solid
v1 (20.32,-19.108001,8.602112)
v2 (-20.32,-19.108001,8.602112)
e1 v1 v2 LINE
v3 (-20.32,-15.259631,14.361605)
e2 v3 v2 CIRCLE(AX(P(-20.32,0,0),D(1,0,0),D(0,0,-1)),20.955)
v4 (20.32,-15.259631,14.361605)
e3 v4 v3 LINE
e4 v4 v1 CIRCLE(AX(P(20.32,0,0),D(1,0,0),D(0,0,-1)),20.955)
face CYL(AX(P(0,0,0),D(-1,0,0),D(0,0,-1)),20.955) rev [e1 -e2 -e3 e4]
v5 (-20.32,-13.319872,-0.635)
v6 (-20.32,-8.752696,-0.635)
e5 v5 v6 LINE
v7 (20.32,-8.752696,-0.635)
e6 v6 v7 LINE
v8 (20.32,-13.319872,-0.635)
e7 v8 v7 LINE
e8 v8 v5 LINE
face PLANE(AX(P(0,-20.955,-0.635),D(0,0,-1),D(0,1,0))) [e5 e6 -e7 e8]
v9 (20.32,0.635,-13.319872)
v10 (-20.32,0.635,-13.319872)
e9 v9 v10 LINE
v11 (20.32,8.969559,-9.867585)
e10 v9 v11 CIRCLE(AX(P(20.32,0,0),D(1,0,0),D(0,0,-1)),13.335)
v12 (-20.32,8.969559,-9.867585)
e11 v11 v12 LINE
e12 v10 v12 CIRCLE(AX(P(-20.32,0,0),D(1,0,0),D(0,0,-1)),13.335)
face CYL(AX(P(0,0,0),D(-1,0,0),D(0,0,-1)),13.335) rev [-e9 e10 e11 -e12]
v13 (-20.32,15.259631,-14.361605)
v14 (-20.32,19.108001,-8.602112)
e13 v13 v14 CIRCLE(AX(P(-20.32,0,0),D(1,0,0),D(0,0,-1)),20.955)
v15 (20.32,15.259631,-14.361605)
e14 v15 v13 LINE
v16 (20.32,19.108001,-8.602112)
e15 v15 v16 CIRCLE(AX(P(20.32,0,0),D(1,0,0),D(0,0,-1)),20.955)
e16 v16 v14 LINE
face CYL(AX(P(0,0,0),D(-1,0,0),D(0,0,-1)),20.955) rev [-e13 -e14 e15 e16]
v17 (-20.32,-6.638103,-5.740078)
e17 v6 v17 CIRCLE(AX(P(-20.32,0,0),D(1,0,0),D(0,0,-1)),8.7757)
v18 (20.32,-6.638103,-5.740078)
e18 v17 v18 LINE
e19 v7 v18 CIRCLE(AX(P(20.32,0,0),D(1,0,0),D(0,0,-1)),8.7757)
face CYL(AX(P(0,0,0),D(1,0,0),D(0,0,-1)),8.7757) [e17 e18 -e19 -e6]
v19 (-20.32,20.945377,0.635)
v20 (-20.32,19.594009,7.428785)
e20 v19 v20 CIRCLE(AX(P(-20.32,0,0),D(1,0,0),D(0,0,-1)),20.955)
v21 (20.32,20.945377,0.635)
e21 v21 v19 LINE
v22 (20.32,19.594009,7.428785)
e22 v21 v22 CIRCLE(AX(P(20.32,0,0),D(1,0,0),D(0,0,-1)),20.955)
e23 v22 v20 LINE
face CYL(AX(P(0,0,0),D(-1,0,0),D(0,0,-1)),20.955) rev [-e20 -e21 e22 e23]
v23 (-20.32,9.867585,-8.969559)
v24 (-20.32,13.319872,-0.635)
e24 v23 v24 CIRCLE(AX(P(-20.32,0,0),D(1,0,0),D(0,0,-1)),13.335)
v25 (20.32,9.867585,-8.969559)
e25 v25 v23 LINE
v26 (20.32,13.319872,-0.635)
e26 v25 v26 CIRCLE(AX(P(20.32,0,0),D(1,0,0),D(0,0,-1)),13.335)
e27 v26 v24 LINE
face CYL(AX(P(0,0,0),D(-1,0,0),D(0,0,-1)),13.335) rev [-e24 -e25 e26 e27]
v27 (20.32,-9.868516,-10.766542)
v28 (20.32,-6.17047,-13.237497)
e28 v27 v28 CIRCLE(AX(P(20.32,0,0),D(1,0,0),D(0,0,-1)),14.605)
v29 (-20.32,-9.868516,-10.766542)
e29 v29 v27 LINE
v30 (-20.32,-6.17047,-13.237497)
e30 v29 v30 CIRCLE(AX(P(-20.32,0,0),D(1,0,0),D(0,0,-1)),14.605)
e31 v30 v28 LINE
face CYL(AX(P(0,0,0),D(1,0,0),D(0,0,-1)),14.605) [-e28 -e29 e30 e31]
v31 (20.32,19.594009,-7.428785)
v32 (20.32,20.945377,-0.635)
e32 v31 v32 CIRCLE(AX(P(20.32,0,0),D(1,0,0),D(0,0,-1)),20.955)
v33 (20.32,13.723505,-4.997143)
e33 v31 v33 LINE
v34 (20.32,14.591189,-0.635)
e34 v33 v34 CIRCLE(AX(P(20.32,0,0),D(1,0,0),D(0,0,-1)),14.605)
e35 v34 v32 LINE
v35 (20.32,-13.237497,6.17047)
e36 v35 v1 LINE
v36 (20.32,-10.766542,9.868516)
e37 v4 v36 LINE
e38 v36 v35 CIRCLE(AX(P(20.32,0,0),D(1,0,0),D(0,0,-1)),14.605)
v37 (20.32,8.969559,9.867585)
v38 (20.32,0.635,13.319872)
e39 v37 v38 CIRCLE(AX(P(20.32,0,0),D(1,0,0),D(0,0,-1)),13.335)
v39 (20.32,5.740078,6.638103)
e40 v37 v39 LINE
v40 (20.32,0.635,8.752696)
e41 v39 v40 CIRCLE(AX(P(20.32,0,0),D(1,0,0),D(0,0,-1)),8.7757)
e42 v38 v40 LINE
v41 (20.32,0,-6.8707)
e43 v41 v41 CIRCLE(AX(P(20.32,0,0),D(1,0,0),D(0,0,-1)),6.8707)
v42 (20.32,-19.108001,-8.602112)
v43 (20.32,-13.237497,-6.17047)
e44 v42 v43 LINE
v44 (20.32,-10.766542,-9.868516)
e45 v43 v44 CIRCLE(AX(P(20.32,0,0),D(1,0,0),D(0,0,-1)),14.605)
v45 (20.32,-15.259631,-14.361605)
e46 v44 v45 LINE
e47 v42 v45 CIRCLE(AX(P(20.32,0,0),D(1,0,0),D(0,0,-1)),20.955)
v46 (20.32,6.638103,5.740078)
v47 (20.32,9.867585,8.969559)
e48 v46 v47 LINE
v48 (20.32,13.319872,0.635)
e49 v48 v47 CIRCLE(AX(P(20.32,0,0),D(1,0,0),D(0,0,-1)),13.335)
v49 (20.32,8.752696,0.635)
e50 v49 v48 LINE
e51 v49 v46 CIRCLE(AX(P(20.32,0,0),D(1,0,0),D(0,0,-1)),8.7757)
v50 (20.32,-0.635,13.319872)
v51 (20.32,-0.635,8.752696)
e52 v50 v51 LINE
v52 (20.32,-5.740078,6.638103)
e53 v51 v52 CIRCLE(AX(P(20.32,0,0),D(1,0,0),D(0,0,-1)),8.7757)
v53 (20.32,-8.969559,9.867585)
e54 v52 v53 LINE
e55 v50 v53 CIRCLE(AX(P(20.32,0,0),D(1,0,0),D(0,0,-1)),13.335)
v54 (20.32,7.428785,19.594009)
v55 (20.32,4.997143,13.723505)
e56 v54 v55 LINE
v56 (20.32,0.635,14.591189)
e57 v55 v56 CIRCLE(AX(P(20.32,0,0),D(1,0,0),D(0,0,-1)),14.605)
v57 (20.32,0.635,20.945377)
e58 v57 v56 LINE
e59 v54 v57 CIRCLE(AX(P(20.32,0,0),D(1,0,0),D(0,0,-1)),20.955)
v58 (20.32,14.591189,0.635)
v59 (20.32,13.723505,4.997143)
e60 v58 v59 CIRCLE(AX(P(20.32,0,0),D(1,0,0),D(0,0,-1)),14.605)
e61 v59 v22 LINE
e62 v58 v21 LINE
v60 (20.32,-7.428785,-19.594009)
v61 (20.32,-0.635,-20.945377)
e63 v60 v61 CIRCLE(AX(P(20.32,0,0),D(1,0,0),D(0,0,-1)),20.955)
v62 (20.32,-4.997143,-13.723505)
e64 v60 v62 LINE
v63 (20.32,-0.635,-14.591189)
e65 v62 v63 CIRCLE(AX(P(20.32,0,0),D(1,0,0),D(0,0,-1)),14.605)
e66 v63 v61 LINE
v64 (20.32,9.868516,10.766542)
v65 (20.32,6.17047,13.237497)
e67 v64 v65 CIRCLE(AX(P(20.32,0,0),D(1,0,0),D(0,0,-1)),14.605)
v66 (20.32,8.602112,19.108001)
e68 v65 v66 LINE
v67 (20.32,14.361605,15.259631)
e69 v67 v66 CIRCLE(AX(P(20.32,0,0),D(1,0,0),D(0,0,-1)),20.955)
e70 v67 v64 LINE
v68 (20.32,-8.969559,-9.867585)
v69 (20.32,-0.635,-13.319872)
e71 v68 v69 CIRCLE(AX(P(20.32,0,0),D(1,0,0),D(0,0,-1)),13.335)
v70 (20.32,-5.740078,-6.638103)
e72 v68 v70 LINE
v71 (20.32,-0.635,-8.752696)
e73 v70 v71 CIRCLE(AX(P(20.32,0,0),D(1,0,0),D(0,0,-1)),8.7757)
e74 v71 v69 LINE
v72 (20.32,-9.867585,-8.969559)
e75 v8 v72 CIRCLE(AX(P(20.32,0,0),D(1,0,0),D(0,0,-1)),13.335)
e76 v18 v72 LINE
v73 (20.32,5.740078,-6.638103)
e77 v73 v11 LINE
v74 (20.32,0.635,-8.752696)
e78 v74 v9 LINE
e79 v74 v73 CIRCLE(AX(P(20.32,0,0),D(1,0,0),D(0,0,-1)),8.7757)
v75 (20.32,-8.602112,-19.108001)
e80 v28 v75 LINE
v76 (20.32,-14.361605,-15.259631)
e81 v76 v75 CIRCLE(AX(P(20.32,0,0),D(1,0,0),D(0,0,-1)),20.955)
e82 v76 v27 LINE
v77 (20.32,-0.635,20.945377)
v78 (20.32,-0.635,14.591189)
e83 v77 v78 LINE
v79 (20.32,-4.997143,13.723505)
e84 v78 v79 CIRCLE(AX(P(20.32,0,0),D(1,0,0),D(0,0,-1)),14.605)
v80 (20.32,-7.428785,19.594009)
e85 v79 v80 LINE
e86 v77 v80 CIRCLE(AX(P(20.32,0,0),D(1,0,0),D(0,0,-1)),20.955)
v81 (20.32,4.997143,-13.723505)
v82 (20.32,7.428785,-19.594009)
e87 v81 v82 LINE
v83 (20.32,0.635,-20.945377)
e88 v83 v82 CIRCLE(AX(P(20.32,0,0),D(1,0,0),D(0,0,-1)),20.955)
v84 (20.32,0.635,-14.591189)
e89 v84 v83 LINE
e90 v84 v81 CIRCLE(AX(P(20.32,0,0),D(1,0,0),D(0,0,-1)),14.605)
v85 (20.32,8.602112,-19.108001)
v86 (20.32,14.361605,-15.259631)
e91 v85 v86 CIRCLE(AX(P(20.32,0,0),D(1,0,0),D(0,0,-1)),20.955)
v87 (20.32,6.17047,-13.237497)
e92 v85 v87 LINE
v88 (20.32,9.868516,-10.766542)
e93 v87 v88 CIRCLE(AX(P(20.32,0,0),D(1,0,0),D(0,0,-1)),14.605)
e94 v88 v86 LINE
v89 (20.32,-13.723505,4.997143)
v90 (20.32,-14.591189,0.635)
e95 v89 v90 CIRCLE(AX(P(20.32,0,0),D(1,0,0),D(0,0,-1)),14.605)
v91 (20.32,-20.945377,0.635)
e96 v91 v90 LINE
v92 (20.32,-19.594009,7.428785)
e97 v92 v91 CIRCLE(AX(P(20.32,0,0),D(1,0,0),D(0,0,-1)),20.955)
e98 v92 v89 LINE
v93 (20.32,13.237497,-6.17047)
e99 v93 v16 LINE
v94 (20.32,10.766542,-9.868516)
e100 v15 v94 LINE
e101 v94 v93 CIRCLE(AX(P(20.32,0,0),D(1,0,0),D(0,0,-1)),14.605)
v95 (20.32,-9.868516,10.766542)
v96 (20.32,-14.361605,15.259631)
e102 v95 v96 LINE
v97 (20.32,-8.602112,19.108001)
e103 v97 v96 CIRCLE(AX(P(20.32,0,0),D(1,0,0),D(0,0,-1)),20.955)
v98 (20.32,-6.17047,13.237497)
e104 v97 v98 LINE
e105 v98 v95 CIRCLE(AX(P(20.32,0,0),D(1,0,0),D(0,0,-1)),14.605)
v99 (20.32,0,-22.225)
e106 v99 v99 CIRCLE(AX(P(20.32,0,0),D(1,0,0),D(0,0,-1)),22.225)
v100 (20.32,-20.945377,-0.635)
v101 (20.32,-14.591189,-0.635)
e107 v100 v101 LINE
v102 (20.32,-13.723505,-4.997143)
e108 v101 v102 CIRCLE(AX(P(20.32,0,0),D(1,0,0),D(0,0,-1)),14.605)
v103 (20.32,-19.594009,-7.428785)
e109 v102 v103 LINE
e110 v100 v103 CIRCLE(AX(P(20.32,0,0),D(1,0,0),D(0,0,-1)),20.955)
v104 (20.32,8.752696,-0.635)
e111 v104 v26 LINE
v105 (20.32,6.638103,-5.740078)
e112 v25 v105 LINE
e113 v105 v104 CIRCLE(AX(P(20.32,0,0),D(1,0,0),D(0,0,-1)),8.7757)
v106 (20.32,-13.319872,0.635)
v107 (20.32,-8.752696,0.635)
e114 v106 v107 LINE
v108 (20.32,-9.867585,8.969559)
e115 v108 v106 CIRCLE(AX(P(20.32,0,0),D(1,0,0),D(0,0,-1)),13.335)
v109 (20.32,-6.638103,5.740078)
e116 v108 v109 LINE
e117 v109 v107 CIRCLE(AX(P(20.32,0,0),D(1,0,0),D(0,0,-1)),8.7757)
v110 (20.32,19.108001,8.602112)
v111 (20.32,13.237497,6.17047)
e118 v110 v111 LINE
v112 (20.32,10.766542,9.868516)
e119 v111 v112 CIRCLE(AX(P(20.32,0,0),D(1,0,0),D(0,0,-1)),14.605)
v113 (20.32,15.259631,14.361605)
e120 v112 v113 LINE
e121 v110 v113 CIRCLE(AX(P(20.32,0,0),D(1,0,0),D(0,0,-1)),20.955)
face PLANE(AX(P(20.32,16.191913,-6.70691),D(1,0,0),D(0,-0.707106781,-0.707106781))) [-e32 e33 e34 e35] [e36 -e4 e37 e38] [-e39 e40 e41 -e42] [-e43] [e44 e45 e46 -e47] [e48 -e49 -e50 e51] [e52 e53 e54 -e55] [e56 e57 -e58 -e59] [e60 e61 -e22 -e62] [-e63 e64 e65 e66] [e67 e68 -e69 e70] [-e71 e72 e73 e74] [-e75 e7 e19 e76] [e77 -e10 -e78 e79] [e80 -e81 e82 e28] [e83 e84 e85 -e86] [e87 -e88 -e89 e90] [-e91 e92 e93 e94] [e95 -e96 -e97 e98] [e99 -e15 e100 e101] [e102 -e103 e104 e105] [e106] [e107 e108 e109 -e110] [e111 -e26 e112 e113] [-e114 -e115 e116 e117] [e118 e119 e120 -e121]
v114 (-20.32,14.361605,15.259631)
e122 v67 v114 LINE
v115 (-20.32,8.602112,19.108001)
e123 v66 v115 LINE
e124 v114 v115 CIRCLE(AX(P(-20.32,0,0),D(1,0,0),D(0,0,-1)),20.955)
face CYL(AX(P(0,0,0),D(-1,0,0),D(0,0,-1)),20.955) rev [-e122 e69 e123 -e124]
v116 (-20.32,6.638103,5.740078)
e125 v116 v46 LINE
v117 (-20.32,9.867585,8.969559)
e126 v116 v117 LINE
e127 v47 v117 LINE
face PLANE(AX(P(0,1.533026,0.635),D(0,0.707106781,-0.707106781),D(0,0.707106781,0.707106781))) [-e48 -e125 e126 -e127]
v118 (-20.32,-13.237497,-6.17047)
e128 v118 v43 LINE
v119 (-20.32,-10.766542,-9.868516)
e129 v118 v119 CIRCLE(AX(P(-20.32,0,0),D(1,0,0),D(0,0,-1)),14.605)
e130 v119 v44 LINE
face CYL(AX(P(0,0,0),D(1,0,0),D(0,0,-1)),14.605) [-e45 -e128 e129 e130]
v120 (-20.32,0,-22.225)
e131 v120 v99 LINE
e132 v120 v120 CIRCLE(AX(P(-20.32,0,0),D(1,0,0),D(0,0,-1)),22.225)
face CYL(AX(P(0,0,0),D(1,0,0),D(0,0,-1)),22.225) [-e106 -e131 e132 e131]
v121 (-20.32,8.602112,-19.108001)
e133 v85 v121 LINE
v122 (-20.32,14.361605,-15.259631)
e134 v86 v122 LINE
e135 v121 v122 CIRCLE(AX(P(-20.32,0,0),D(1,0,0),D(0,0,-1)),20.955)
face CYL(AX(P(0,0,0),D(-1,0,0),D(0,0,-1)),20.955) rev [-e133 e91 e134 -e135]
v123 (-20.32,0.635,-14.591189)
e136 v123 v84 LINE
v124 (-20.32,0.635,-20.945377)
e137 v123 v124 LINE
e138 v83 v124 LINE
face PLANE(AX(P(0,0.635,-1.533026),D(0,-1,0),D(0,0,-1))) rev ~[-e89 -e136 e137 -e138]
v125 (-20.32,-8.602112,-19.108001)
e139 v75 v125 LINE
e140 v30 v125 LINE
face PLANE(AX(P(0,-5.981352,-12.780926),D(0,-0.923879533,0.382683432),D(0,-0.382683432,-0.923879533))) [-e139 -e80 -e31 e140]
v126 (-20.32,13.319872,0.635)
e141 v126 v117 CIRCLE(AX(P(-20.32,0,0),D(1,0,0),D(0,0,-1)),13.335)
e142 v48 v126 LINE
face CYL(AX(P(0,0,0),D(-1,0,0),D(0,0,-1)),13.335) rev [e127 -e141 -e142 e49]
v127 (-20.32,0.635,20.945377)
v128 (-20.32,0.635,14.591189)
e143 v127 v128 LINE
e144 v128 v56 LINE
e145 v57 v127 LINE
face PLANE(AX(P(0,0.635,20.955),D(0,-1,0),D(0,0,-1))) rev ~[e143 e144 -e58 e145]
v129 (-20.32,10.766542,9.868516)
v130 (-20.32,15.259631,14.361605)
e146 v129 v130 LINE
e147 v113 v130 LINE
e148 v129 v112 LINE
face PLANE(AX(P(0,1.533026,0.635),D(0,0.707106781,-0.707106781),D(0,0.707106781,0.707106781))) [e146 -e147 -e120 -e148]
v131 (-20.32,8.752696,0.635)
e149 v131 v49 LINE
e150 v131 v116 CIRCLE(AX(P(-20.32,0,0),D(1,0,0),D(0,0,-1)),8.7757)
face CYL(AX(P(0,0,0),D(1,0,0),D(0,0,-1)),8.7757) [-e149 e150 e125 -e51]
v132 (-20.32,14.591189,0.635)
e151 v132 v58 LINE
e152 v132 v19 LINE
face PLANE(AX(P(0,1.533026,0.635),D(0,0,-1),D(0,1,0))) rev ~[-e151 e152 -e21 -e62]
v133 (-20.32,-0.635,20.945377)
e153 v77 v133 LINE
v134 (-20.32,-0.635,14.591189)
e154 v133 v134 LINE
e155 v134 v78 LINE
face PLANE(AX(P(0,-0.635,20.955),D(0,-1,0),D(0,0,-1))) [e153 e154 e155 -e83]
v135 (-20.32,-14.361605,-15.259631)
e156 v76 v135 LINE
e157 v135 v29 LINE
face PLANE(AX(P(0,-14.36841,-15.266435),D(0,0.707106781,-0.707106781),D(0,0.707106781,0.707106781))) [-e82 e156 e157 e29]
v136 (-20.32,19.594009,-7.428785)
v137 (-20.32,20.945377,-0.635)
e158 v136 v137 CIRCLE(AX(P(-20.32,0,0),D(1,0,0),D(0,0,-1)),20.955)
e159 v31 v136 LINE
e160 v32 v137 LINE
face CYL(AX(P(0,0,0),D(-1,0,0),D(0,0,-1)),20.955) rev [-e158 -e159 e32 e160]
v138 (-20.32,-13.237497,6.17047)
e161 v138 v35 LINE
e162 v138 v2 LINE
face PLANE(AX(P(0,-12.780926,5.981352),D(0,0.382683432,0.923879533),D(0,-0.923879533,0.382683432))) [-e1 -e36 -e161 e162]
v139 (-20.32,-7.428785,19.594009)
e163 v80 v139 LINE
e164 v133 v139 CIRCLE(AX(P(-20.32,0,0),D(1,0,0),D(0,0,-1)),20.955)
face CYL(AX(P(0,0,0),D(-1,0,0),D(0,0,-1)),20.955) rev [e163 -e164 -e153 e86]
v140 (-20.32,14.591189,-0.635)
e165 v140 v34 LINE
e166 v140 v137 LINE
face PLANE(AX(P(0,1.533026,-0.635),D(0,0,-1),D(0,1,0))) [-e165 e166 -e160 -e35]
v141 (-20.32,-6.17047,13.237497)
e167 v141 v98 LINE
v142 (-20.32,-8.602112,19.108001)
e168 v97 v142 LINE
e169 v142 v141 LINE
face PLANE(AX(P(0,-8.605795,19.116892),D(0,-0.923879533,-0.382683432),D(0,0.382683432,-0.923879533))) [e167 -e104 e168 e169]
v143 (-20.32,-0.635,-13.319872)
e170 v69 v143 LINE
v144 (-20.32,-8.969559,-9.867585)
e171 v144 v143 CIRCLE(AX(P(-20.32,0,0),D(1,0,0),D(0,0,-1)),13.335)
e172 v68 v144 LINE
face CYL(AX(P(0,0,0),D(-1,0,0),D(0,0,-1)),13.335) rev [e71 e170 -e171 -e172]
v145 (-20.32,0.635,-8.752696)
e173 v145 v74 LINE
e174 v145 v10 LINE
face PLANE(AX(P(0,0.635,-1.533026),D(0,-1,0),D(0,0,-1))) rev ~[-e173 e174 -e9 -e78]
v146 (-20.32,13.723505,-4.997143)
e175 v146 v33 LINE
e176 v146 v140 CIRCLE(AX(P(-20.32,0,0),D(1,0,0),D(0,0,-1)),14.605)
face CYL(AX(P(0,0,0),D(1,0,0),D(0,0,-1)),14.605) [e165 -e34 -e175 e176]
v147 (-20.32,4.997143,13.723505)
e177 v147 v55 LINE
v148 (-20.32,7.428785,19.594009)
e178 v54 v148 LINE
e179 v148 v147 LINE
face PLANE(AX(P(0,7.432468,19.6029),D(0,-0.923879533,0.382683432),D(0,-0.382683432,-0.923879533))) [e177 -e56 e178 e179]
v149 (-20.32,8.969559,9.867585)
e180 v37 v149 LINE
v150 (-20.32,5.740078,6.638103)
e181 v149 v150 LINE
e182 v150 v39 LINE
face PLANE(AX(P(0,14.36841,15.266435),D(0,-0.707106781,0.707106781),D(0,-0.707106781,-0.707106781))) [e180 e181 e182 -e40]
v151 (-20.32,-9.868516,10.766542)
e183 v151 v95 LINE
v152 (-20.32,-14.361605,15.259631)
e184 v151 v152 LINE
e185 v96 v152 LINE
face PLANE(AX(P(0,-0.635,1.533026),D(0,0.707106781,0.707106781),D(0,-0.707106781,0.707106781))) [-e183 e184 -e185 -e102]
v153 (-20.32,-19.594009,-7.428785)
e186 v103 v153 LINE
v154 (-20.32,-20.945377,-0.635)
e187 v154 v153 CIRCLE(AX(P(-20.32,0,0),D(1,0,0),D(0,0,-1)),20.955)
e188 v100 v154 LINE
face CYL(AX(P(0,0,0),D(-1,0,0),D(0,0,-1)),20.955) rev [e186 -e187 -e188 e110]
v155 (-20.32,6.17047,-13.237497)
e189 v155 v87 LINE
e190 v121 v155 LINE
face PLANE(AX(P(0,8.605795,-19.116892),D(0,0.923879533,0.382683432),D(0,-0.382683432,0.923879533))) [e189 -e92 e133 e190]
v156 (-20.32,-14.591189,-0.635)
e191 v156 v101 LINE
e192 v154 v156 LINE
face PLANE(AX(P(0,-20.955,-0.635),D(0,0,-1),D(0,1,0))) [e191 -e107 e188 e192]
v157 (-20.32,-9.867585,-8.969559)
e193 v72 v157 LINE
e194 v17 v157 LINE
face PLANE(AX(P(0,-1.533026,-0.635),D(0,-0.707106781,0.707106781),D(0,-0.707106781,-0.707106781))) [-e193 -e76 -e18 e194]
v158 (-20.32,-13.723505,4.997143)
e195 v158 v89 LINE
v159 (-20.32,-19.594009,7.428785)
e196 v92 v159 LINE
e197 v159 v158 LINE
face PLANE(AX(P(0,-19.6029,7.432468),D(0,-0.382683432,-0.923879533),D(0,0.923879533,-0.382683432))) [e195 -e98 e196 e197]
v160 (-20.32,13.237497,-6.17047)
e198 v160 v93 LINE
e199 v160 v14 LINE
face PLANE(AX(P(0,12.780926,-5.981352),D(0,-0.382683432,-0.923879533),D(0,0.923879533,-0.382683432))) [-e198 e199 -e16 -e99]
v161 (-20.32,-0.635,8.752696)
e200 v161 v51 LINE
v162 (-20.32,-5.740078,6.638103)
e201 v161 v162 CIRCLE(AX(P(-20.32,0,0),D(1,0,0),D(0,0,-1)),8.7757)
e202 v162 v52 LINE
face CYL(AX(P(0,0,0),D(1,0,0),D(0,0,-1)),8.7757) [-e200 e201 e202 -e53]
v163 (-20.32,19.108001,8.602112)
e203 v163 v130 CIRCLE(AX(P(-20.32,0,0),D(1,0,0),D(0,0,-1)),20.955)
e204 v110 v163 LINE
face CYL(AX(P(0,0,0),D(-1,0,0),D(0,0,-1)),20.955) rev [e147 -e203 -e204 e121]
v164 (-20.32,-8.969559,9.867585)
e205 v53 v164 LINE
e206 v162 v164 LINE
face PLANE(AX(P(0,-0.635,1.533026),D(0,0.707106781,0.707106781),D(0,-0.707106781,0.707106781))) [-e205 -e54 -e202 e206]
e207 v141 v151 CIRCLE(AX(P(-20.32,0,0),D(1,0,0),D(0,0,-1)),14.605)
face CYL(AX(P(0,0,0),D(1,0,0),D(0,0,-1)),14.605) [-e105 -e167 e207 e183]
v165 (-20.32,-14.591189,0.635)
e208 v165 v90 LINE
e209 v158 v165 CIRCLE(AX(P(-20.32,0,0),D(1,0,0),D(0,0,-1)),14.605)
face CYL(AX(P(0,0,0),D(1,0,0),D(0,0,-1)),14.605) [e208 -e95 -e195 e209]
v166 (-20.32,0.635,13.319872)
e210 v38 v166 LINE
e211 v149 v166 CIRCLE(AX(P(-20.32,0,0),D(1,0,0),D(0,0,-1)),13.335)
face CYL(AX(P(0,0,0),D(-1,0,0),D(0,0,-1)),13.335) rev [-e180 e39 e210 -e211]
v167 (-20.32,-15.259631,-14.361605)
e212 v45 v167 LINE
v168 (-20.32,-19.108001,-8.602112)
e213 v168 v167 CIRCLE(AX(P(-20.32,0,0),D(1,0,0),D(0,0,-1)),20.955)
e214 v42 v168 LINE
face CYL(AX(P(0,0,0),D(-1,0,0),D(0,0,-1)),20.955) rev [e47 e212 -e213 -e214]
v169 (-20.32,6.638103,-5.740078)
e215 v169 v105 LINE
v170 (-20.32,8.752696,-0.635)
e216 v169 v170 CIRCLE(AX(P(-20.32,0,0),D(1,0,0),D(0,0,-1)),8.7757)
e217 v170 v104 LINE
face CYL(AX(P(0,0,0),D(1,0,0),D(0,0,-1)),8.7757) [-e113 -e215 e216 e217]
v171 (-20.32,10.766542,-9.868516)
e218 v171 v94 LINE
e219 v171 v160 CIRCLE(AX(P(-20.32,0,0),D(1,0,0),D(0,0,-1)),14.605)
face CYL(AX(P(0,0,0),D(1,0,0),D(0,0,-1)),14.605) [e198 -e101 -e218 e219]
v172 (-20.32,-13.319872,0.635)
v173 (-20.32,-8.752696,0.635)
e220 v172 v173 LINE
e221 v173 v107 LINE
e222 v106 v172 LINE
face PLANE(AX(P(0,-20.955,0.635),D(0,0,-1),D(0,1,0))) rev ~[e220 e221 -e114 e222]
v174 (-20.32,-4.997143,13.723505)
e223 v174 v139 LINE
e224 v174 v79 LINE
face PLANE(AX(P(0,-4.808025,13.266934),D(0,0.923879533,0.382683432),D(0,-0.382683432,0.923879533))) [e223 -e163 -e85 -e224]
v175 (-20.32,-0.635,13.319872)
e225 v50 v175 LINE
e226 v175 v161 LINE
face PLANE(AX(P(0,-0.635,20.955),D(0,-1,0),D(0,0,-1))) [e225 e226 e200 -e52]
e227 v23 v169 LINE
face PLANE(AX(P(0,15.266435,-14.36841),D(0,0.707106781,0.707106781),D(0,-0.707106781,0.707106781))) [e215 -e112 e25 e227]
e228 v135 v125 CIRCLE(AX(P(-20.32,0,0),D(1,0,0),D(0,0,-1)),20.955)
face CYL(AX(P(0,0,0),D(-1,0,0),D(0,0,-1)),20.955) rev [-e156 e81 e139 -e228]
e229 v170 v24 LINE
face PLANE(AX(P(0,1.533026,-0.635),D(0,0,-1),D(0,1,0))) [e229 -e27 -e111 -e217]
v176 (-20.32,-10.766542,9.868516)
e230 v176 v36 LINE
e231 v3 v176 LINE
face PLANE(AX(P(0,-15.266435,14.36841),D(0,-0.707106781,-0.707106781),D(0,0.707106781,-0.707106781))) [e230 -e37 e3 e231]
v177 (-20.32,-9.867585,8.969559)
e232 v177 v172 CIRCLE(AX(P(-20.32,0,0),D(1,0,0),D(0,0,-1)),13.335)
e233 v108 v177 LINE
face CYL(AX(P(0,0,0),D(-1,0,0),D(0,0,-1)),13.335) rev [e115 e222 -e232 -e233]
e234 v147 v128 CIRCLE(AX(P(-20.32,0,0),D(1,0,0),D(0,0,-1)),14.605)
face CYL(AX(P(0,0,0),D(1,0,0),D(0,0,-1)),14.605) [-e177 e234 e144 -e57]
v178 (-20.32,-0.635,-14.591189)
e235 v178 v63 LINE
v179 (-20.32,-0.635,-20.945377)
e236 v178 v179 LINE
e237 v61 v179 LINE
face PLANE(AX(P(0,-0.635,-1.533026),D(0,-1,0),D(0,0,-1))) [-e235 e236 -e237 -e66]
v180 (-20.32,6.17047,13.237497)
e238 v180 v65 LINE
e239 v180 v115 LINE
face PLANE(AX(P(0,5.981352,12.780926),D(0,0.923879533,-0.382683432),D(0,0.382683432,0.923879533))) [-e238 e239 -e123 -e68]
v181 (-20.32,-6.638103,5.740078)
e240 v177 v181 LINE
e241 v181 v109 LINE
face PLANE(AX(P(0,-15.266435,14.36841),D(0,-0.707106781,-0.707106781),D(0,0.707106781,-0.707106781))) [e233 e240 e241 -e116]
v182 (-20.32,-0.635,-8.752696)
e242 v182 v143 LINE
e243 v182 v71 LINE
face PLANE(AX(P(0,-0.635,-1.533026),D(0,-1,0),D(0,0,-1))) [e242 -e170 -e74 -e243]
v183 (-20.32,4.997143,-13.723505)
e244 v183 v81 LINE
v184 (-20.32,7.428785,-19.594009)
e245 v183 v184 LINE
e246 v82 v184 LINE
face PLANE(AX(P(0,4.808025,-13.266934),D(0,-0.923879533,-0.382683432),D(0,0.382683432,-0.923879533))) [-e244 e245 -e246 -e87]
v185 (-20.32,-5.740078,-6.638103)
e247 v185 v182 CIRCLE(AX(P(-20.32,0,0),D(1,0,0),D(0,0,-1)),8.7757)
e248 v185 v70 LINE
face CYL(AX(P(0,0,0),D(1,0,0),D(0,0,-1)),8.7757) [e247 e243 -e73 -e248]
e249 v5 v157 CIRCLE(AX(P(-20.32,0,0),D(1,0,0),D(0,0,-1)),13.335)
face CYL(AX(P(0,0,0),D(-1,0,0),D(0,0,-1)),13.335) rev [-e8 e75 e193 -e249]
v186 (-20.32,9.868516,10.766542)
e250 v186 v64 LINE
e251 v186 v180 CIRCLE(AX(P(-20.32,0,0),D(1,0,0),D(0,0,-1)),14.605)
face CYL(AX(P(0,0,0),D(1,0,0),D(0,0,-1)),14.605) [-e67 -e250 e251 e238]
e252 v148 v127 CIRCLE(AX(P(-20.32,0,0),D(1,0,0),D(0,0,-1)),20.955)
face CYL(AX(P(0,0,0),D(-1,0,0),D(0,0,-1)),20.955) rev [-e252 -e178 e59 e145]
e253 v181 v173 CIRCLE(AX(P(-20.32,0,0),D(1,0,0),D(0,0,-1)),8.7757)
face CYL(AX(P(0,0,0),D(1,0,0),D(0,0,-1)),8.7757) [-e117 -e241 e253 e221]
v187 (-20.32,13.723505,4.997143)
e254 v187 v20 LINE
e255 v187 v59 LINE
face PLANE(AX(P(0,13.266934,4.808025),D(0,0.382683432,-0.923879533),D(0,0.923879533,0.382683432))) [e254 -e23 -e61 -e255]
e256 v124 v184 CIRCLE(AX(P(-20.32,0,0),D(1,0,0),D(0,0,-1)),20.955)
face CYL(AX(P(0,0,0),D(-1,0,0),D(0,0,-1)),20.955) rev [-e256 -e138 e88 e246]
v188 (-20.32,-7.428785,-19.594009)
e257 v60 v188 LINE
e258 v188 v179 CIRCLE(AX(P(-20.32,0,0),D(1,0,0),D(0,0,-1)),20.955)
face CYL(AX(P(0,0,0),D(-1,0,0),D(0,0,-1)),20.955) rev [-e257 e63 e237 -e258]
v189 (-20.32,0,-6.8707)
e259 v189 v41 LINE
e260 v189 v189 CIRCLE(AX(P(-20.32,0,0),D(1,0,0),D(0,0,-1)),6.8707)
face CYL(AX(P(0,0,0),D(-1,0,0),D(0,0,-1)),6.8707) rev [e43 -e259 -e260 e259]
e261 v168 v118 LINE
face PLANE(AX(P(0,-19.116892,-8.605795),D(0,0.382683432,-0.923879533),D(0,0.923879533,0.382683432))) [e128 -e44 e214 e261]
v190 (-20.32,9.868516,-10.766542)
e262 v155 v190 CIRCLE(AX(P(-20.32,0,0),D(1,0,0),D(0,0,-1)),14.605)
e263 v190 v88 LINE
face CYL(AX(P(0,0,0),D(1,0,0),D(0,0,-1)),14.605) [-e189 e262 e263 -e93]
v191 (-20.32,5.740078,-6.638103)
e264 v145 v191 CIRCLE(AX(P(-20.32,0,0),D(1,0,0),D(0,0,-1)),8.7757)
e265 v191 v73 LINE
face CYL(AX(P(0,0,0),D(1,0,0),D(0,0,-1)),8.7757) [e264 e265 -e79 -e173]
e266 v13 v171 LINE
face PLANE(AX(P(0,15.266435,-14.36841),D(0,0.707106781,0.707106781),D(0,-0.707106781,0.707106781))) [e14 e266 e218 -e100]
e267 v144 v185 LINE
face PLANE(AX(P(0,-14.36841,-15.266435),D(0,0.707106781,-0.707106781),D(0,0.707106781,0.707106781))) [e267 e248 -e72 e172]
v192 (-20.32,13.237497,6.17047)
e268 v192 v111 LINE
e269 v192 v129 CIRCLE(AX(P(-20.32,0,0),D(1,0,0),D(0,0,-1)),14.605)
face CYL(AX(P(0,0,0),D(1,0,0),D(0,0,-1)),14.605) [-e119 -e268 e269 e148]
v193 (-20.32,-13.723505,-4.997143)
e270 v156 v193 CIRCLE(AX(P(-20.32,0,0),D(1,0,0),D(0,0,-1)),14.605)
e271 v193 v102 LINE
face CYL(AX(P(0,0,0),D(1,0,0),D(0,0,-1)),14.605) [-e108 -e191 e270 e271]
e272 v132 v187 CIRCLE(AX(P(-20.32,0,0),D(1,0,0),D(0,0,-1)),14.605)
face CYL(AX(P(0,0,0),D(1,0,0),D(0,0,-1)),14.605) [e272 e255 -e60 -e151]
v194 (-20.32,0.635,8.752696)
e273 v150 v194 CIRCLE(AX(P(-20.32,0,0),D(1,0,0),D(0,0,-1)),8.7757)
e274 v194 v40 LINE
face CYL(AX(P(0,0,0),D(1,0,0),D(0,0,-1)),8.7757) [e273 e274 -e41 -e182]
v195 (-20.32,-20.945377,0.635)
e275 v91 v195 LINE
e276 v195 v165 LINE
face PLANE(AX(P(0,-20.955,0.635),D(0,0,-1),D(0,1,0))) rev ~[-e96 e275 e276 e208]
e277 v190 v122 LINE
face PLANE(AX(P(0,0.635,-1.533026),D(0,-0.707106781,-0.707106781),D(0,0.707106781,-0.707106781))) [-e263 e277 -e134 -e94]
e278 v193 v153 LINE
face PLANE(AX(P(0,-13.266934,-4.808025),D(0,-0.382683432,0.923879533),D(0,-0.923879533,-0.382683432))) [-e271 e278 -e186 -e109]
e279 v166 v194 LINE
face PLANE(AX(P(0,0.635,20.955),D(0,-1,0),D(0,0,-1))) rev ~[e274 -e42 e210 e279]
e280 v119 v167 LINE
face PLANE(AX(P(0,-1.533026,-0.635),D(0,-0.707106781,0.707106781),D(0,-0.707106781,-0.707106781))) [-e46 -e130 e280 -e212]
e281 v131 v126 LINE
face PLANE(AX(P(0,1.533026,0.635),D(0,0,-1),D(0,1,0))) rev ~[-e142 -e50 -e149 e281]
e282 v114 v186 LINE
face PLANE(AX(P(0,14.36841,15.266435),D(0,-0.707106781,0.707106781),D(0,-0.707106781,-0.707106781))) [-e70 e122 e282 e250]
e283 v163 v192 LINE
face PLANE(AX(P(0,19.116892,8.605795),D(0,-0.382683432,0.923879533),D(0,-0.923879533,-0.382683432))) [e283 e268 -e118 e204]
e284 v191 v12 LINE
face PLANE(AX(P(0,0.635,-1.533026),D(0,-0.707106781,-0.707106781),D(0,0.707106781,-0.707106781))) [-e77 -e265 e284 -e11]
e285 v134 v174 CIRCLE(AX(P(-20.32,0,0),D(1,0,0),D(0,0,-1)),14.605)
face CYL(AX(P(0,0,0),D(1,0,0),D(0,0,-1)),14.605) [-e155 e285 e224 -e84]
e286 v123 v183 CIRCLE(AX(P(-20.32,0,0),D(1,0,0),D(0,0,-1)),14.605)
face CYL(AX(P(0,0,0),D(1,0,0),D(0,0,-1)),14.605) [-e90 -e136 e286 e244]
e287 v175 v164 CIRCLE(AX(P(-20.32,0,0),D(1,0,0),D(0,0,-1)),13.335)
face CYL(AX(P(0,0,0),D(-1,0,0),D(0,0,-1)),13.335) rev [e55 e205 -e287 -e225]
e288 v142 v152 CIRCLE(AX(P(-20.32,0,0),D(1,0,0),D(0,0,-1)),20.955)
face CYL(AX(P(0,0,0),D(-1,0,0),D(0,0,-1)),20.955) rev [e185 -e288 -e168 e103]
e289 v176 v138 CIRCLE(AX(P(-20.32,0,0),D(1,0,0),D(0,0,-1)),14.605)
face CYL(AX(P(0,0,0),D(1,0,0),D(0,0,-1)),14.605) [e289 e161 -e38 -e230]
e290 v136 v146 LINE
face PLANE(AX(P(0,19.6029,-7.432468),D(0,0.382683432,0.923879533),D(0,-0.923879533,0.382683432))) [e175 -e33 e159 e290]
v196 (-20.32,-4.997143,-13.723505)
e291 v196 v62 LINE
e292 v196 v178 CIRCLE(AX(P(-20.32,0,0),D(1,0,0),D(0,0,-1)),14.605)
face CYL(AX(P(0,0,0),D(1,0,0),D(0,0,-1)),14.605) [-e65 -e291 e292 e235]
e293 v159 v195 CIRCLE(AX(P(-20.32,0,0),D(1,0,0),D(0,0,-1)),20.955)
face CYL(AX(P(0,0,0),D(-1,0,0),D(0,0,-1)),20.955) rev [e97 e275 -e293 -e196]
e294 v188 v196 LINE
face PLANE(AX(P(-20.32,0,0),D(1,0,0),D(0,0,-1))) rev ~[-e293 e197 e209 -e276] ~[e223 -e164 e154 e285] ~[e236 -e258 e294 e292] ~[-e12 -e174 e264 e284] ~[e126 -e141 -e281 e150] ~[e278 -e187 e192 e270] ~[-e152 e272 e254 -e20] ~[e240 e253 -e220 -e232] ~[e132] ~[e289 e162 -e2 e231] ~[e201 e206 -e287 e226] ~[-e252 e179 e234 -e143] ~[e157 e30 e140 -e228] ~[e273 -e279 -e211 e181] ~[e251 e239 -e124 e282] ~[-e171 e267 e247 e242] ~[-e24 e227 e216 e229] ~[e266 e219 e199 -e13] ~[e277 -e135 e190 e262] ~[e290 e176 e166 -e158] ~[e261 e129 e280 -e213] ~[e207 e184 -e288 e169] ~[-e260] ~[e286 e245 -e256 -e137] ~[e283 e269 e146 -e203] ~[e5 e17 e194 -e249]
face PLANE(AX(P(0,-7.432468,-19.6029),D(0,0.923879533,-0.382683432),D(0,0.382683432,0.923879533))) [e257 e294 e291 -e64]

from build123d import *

# Parameters (mm, degrees)
SKETCH1_R             = 22.225
SKETCH1_R_2           = 20.955
EXTRUDE_THIN1_DEPTH   = 20.32
SKETCH1_R_3           = 14.605
SKETCH1_R_4           = 13.335
EXTRUDE_THIN1_2_DEPTH = 20.32
SKETCH1_3_R           = 8.7757
SKETCH1_3_R_2         = 6.8707
EXTRUDE_THIN2_DEPTH   = 20.32
SKETCH2_W             = 1.27
SKETCH2_H             = 41.91
SKETCH2_W_2           = 41.91
SKETCH2_H_2           = 1.27
EXTRUDE_THIN3_DEPTH   = 20.32
SKETCH1_5_R           = 6.8707
CUT_EXTRUDE1_DEPTH    = 20.32
EXTRUDE_THIN6_DEPTH   = 20.32
CIRPATTERN1_COUNT     = 8


with BuildPart() as part:
    # Sketch1 → Extrude-Thin1 (new body, symmetric)
    with BuildSketch(Plane(origin=(0, 0, 0), x_dir=(0, 0, -1), z_dir=(1, 0, 0))):
        Circle(SKETCH1_R)
        Circle(SKETCH1_R_2, mode=Mode.SUBTRACT)
    extrude(amount=EXTRUDE_THIN1_DEPTH, both=True)



with BuildPart() as body_2:
    # Sketch1 → Extrude-Thin1 2 (new body, symmetric)
    with BuildSketch(Plane(origin=(0, 0, 0), x_dir=(0, 0, -1), z_dir=(1, 0, 0))):
        Circle(SKETCH1_R_3)
        Circle(SKETCH1_R_4, mode=Mode.SUBTRACT)
    extrude(amount=EXTRUDE_THIN1_2_DEPTH, both=True)


with BuildPart() as body_3:
    # Sketch1<3> → Extrude-Thin2 (new body, symmetric)
    with BuildSketch(Plane(origin=(0, 0, 0), x_dir=(0, 0, -1), z_dir=(1, 0, 0))):
        Circle(SKETCH1_3_R)
        Circle(SKETCH1_3_R_2, mode=Mode.SUBTRACT)
    extrude(amount=EXTRUDE_THIN2_DEPTH, both=True)


with BuildPart() as part_1:
    add(part.part)

    add(body_3.part)  # Extrude-Thin3 merges body 3
    # Sketch2 → Extrude-Thin3 (add, symmetric)
    with BuildSketch(Plane(origin=(0, 0, 0), x_dir=(0, 0, -1), z_dir=(1, 0, 0))):
        Rectangle(SKETCH2_W, SKETCH2_H)
        Rectangle(SKETCH2_W_2, SKETCH2_H_2)
        Polygon((-14.368409794, -15.266435406), (15.266435406, 14.368409794), (14.368409794, 15.266435406), (-15.266435406, -14.368409794), align=None)
        Polygon((-15.266435406, 14.368409794), (14.368409794, -15.266435406), (15.266435406, -14.368409794), (-14.368409794, 15.266435406), align=None)
    extrude(amount=EXTRUDE_THIN3_DEPTH, both=True)

    # Sketch1<5> → Cut-Extrude1 (cut, symmetric)
    with BuildSketch(Plane(origin=(0, 0, 0), x_dir=(0, 0, -1), z_dir=(1, 0, 0))):
        Circle(SKETCH1_5_R)
    extrude(amount=CUT_EXTRUDE1_DEPTH, both=True, mode=Mode.SUBTRACT)


    add(body_2.part)  # Extrude-Thin6 merges body 2
    # Sketch4 → Extrude-Thin6 (add, symmetric)
    with BuildSketch(Plane(origin=(0, 0, 0), x_dir=(0, 0, -1), z_dir=(1, 0, 0))):
        Polygon((-8.605794828, 19.116891624), (-5.981351849, 12.78092579), (-4.808024843, 13.266933749), (-7.432467822, 19.602899583), align=None)
    extrude_thin6 = extrude(amount=EXTRUDE_THIN6_DEPTH, both=True)

    # CirPattern1: Extrude-Thin6 ×8 about axis
    cirpattern1_axis = Axis((0, 0, 0), (1, 0, 0))
    for i in range(1, CIRPATTERN1_COUNT):
        add(extrude_thin6.rotate(cirpattern1_axis, i * 360 / CIRPATTERN1_COUNT))


solid = part_1.part
